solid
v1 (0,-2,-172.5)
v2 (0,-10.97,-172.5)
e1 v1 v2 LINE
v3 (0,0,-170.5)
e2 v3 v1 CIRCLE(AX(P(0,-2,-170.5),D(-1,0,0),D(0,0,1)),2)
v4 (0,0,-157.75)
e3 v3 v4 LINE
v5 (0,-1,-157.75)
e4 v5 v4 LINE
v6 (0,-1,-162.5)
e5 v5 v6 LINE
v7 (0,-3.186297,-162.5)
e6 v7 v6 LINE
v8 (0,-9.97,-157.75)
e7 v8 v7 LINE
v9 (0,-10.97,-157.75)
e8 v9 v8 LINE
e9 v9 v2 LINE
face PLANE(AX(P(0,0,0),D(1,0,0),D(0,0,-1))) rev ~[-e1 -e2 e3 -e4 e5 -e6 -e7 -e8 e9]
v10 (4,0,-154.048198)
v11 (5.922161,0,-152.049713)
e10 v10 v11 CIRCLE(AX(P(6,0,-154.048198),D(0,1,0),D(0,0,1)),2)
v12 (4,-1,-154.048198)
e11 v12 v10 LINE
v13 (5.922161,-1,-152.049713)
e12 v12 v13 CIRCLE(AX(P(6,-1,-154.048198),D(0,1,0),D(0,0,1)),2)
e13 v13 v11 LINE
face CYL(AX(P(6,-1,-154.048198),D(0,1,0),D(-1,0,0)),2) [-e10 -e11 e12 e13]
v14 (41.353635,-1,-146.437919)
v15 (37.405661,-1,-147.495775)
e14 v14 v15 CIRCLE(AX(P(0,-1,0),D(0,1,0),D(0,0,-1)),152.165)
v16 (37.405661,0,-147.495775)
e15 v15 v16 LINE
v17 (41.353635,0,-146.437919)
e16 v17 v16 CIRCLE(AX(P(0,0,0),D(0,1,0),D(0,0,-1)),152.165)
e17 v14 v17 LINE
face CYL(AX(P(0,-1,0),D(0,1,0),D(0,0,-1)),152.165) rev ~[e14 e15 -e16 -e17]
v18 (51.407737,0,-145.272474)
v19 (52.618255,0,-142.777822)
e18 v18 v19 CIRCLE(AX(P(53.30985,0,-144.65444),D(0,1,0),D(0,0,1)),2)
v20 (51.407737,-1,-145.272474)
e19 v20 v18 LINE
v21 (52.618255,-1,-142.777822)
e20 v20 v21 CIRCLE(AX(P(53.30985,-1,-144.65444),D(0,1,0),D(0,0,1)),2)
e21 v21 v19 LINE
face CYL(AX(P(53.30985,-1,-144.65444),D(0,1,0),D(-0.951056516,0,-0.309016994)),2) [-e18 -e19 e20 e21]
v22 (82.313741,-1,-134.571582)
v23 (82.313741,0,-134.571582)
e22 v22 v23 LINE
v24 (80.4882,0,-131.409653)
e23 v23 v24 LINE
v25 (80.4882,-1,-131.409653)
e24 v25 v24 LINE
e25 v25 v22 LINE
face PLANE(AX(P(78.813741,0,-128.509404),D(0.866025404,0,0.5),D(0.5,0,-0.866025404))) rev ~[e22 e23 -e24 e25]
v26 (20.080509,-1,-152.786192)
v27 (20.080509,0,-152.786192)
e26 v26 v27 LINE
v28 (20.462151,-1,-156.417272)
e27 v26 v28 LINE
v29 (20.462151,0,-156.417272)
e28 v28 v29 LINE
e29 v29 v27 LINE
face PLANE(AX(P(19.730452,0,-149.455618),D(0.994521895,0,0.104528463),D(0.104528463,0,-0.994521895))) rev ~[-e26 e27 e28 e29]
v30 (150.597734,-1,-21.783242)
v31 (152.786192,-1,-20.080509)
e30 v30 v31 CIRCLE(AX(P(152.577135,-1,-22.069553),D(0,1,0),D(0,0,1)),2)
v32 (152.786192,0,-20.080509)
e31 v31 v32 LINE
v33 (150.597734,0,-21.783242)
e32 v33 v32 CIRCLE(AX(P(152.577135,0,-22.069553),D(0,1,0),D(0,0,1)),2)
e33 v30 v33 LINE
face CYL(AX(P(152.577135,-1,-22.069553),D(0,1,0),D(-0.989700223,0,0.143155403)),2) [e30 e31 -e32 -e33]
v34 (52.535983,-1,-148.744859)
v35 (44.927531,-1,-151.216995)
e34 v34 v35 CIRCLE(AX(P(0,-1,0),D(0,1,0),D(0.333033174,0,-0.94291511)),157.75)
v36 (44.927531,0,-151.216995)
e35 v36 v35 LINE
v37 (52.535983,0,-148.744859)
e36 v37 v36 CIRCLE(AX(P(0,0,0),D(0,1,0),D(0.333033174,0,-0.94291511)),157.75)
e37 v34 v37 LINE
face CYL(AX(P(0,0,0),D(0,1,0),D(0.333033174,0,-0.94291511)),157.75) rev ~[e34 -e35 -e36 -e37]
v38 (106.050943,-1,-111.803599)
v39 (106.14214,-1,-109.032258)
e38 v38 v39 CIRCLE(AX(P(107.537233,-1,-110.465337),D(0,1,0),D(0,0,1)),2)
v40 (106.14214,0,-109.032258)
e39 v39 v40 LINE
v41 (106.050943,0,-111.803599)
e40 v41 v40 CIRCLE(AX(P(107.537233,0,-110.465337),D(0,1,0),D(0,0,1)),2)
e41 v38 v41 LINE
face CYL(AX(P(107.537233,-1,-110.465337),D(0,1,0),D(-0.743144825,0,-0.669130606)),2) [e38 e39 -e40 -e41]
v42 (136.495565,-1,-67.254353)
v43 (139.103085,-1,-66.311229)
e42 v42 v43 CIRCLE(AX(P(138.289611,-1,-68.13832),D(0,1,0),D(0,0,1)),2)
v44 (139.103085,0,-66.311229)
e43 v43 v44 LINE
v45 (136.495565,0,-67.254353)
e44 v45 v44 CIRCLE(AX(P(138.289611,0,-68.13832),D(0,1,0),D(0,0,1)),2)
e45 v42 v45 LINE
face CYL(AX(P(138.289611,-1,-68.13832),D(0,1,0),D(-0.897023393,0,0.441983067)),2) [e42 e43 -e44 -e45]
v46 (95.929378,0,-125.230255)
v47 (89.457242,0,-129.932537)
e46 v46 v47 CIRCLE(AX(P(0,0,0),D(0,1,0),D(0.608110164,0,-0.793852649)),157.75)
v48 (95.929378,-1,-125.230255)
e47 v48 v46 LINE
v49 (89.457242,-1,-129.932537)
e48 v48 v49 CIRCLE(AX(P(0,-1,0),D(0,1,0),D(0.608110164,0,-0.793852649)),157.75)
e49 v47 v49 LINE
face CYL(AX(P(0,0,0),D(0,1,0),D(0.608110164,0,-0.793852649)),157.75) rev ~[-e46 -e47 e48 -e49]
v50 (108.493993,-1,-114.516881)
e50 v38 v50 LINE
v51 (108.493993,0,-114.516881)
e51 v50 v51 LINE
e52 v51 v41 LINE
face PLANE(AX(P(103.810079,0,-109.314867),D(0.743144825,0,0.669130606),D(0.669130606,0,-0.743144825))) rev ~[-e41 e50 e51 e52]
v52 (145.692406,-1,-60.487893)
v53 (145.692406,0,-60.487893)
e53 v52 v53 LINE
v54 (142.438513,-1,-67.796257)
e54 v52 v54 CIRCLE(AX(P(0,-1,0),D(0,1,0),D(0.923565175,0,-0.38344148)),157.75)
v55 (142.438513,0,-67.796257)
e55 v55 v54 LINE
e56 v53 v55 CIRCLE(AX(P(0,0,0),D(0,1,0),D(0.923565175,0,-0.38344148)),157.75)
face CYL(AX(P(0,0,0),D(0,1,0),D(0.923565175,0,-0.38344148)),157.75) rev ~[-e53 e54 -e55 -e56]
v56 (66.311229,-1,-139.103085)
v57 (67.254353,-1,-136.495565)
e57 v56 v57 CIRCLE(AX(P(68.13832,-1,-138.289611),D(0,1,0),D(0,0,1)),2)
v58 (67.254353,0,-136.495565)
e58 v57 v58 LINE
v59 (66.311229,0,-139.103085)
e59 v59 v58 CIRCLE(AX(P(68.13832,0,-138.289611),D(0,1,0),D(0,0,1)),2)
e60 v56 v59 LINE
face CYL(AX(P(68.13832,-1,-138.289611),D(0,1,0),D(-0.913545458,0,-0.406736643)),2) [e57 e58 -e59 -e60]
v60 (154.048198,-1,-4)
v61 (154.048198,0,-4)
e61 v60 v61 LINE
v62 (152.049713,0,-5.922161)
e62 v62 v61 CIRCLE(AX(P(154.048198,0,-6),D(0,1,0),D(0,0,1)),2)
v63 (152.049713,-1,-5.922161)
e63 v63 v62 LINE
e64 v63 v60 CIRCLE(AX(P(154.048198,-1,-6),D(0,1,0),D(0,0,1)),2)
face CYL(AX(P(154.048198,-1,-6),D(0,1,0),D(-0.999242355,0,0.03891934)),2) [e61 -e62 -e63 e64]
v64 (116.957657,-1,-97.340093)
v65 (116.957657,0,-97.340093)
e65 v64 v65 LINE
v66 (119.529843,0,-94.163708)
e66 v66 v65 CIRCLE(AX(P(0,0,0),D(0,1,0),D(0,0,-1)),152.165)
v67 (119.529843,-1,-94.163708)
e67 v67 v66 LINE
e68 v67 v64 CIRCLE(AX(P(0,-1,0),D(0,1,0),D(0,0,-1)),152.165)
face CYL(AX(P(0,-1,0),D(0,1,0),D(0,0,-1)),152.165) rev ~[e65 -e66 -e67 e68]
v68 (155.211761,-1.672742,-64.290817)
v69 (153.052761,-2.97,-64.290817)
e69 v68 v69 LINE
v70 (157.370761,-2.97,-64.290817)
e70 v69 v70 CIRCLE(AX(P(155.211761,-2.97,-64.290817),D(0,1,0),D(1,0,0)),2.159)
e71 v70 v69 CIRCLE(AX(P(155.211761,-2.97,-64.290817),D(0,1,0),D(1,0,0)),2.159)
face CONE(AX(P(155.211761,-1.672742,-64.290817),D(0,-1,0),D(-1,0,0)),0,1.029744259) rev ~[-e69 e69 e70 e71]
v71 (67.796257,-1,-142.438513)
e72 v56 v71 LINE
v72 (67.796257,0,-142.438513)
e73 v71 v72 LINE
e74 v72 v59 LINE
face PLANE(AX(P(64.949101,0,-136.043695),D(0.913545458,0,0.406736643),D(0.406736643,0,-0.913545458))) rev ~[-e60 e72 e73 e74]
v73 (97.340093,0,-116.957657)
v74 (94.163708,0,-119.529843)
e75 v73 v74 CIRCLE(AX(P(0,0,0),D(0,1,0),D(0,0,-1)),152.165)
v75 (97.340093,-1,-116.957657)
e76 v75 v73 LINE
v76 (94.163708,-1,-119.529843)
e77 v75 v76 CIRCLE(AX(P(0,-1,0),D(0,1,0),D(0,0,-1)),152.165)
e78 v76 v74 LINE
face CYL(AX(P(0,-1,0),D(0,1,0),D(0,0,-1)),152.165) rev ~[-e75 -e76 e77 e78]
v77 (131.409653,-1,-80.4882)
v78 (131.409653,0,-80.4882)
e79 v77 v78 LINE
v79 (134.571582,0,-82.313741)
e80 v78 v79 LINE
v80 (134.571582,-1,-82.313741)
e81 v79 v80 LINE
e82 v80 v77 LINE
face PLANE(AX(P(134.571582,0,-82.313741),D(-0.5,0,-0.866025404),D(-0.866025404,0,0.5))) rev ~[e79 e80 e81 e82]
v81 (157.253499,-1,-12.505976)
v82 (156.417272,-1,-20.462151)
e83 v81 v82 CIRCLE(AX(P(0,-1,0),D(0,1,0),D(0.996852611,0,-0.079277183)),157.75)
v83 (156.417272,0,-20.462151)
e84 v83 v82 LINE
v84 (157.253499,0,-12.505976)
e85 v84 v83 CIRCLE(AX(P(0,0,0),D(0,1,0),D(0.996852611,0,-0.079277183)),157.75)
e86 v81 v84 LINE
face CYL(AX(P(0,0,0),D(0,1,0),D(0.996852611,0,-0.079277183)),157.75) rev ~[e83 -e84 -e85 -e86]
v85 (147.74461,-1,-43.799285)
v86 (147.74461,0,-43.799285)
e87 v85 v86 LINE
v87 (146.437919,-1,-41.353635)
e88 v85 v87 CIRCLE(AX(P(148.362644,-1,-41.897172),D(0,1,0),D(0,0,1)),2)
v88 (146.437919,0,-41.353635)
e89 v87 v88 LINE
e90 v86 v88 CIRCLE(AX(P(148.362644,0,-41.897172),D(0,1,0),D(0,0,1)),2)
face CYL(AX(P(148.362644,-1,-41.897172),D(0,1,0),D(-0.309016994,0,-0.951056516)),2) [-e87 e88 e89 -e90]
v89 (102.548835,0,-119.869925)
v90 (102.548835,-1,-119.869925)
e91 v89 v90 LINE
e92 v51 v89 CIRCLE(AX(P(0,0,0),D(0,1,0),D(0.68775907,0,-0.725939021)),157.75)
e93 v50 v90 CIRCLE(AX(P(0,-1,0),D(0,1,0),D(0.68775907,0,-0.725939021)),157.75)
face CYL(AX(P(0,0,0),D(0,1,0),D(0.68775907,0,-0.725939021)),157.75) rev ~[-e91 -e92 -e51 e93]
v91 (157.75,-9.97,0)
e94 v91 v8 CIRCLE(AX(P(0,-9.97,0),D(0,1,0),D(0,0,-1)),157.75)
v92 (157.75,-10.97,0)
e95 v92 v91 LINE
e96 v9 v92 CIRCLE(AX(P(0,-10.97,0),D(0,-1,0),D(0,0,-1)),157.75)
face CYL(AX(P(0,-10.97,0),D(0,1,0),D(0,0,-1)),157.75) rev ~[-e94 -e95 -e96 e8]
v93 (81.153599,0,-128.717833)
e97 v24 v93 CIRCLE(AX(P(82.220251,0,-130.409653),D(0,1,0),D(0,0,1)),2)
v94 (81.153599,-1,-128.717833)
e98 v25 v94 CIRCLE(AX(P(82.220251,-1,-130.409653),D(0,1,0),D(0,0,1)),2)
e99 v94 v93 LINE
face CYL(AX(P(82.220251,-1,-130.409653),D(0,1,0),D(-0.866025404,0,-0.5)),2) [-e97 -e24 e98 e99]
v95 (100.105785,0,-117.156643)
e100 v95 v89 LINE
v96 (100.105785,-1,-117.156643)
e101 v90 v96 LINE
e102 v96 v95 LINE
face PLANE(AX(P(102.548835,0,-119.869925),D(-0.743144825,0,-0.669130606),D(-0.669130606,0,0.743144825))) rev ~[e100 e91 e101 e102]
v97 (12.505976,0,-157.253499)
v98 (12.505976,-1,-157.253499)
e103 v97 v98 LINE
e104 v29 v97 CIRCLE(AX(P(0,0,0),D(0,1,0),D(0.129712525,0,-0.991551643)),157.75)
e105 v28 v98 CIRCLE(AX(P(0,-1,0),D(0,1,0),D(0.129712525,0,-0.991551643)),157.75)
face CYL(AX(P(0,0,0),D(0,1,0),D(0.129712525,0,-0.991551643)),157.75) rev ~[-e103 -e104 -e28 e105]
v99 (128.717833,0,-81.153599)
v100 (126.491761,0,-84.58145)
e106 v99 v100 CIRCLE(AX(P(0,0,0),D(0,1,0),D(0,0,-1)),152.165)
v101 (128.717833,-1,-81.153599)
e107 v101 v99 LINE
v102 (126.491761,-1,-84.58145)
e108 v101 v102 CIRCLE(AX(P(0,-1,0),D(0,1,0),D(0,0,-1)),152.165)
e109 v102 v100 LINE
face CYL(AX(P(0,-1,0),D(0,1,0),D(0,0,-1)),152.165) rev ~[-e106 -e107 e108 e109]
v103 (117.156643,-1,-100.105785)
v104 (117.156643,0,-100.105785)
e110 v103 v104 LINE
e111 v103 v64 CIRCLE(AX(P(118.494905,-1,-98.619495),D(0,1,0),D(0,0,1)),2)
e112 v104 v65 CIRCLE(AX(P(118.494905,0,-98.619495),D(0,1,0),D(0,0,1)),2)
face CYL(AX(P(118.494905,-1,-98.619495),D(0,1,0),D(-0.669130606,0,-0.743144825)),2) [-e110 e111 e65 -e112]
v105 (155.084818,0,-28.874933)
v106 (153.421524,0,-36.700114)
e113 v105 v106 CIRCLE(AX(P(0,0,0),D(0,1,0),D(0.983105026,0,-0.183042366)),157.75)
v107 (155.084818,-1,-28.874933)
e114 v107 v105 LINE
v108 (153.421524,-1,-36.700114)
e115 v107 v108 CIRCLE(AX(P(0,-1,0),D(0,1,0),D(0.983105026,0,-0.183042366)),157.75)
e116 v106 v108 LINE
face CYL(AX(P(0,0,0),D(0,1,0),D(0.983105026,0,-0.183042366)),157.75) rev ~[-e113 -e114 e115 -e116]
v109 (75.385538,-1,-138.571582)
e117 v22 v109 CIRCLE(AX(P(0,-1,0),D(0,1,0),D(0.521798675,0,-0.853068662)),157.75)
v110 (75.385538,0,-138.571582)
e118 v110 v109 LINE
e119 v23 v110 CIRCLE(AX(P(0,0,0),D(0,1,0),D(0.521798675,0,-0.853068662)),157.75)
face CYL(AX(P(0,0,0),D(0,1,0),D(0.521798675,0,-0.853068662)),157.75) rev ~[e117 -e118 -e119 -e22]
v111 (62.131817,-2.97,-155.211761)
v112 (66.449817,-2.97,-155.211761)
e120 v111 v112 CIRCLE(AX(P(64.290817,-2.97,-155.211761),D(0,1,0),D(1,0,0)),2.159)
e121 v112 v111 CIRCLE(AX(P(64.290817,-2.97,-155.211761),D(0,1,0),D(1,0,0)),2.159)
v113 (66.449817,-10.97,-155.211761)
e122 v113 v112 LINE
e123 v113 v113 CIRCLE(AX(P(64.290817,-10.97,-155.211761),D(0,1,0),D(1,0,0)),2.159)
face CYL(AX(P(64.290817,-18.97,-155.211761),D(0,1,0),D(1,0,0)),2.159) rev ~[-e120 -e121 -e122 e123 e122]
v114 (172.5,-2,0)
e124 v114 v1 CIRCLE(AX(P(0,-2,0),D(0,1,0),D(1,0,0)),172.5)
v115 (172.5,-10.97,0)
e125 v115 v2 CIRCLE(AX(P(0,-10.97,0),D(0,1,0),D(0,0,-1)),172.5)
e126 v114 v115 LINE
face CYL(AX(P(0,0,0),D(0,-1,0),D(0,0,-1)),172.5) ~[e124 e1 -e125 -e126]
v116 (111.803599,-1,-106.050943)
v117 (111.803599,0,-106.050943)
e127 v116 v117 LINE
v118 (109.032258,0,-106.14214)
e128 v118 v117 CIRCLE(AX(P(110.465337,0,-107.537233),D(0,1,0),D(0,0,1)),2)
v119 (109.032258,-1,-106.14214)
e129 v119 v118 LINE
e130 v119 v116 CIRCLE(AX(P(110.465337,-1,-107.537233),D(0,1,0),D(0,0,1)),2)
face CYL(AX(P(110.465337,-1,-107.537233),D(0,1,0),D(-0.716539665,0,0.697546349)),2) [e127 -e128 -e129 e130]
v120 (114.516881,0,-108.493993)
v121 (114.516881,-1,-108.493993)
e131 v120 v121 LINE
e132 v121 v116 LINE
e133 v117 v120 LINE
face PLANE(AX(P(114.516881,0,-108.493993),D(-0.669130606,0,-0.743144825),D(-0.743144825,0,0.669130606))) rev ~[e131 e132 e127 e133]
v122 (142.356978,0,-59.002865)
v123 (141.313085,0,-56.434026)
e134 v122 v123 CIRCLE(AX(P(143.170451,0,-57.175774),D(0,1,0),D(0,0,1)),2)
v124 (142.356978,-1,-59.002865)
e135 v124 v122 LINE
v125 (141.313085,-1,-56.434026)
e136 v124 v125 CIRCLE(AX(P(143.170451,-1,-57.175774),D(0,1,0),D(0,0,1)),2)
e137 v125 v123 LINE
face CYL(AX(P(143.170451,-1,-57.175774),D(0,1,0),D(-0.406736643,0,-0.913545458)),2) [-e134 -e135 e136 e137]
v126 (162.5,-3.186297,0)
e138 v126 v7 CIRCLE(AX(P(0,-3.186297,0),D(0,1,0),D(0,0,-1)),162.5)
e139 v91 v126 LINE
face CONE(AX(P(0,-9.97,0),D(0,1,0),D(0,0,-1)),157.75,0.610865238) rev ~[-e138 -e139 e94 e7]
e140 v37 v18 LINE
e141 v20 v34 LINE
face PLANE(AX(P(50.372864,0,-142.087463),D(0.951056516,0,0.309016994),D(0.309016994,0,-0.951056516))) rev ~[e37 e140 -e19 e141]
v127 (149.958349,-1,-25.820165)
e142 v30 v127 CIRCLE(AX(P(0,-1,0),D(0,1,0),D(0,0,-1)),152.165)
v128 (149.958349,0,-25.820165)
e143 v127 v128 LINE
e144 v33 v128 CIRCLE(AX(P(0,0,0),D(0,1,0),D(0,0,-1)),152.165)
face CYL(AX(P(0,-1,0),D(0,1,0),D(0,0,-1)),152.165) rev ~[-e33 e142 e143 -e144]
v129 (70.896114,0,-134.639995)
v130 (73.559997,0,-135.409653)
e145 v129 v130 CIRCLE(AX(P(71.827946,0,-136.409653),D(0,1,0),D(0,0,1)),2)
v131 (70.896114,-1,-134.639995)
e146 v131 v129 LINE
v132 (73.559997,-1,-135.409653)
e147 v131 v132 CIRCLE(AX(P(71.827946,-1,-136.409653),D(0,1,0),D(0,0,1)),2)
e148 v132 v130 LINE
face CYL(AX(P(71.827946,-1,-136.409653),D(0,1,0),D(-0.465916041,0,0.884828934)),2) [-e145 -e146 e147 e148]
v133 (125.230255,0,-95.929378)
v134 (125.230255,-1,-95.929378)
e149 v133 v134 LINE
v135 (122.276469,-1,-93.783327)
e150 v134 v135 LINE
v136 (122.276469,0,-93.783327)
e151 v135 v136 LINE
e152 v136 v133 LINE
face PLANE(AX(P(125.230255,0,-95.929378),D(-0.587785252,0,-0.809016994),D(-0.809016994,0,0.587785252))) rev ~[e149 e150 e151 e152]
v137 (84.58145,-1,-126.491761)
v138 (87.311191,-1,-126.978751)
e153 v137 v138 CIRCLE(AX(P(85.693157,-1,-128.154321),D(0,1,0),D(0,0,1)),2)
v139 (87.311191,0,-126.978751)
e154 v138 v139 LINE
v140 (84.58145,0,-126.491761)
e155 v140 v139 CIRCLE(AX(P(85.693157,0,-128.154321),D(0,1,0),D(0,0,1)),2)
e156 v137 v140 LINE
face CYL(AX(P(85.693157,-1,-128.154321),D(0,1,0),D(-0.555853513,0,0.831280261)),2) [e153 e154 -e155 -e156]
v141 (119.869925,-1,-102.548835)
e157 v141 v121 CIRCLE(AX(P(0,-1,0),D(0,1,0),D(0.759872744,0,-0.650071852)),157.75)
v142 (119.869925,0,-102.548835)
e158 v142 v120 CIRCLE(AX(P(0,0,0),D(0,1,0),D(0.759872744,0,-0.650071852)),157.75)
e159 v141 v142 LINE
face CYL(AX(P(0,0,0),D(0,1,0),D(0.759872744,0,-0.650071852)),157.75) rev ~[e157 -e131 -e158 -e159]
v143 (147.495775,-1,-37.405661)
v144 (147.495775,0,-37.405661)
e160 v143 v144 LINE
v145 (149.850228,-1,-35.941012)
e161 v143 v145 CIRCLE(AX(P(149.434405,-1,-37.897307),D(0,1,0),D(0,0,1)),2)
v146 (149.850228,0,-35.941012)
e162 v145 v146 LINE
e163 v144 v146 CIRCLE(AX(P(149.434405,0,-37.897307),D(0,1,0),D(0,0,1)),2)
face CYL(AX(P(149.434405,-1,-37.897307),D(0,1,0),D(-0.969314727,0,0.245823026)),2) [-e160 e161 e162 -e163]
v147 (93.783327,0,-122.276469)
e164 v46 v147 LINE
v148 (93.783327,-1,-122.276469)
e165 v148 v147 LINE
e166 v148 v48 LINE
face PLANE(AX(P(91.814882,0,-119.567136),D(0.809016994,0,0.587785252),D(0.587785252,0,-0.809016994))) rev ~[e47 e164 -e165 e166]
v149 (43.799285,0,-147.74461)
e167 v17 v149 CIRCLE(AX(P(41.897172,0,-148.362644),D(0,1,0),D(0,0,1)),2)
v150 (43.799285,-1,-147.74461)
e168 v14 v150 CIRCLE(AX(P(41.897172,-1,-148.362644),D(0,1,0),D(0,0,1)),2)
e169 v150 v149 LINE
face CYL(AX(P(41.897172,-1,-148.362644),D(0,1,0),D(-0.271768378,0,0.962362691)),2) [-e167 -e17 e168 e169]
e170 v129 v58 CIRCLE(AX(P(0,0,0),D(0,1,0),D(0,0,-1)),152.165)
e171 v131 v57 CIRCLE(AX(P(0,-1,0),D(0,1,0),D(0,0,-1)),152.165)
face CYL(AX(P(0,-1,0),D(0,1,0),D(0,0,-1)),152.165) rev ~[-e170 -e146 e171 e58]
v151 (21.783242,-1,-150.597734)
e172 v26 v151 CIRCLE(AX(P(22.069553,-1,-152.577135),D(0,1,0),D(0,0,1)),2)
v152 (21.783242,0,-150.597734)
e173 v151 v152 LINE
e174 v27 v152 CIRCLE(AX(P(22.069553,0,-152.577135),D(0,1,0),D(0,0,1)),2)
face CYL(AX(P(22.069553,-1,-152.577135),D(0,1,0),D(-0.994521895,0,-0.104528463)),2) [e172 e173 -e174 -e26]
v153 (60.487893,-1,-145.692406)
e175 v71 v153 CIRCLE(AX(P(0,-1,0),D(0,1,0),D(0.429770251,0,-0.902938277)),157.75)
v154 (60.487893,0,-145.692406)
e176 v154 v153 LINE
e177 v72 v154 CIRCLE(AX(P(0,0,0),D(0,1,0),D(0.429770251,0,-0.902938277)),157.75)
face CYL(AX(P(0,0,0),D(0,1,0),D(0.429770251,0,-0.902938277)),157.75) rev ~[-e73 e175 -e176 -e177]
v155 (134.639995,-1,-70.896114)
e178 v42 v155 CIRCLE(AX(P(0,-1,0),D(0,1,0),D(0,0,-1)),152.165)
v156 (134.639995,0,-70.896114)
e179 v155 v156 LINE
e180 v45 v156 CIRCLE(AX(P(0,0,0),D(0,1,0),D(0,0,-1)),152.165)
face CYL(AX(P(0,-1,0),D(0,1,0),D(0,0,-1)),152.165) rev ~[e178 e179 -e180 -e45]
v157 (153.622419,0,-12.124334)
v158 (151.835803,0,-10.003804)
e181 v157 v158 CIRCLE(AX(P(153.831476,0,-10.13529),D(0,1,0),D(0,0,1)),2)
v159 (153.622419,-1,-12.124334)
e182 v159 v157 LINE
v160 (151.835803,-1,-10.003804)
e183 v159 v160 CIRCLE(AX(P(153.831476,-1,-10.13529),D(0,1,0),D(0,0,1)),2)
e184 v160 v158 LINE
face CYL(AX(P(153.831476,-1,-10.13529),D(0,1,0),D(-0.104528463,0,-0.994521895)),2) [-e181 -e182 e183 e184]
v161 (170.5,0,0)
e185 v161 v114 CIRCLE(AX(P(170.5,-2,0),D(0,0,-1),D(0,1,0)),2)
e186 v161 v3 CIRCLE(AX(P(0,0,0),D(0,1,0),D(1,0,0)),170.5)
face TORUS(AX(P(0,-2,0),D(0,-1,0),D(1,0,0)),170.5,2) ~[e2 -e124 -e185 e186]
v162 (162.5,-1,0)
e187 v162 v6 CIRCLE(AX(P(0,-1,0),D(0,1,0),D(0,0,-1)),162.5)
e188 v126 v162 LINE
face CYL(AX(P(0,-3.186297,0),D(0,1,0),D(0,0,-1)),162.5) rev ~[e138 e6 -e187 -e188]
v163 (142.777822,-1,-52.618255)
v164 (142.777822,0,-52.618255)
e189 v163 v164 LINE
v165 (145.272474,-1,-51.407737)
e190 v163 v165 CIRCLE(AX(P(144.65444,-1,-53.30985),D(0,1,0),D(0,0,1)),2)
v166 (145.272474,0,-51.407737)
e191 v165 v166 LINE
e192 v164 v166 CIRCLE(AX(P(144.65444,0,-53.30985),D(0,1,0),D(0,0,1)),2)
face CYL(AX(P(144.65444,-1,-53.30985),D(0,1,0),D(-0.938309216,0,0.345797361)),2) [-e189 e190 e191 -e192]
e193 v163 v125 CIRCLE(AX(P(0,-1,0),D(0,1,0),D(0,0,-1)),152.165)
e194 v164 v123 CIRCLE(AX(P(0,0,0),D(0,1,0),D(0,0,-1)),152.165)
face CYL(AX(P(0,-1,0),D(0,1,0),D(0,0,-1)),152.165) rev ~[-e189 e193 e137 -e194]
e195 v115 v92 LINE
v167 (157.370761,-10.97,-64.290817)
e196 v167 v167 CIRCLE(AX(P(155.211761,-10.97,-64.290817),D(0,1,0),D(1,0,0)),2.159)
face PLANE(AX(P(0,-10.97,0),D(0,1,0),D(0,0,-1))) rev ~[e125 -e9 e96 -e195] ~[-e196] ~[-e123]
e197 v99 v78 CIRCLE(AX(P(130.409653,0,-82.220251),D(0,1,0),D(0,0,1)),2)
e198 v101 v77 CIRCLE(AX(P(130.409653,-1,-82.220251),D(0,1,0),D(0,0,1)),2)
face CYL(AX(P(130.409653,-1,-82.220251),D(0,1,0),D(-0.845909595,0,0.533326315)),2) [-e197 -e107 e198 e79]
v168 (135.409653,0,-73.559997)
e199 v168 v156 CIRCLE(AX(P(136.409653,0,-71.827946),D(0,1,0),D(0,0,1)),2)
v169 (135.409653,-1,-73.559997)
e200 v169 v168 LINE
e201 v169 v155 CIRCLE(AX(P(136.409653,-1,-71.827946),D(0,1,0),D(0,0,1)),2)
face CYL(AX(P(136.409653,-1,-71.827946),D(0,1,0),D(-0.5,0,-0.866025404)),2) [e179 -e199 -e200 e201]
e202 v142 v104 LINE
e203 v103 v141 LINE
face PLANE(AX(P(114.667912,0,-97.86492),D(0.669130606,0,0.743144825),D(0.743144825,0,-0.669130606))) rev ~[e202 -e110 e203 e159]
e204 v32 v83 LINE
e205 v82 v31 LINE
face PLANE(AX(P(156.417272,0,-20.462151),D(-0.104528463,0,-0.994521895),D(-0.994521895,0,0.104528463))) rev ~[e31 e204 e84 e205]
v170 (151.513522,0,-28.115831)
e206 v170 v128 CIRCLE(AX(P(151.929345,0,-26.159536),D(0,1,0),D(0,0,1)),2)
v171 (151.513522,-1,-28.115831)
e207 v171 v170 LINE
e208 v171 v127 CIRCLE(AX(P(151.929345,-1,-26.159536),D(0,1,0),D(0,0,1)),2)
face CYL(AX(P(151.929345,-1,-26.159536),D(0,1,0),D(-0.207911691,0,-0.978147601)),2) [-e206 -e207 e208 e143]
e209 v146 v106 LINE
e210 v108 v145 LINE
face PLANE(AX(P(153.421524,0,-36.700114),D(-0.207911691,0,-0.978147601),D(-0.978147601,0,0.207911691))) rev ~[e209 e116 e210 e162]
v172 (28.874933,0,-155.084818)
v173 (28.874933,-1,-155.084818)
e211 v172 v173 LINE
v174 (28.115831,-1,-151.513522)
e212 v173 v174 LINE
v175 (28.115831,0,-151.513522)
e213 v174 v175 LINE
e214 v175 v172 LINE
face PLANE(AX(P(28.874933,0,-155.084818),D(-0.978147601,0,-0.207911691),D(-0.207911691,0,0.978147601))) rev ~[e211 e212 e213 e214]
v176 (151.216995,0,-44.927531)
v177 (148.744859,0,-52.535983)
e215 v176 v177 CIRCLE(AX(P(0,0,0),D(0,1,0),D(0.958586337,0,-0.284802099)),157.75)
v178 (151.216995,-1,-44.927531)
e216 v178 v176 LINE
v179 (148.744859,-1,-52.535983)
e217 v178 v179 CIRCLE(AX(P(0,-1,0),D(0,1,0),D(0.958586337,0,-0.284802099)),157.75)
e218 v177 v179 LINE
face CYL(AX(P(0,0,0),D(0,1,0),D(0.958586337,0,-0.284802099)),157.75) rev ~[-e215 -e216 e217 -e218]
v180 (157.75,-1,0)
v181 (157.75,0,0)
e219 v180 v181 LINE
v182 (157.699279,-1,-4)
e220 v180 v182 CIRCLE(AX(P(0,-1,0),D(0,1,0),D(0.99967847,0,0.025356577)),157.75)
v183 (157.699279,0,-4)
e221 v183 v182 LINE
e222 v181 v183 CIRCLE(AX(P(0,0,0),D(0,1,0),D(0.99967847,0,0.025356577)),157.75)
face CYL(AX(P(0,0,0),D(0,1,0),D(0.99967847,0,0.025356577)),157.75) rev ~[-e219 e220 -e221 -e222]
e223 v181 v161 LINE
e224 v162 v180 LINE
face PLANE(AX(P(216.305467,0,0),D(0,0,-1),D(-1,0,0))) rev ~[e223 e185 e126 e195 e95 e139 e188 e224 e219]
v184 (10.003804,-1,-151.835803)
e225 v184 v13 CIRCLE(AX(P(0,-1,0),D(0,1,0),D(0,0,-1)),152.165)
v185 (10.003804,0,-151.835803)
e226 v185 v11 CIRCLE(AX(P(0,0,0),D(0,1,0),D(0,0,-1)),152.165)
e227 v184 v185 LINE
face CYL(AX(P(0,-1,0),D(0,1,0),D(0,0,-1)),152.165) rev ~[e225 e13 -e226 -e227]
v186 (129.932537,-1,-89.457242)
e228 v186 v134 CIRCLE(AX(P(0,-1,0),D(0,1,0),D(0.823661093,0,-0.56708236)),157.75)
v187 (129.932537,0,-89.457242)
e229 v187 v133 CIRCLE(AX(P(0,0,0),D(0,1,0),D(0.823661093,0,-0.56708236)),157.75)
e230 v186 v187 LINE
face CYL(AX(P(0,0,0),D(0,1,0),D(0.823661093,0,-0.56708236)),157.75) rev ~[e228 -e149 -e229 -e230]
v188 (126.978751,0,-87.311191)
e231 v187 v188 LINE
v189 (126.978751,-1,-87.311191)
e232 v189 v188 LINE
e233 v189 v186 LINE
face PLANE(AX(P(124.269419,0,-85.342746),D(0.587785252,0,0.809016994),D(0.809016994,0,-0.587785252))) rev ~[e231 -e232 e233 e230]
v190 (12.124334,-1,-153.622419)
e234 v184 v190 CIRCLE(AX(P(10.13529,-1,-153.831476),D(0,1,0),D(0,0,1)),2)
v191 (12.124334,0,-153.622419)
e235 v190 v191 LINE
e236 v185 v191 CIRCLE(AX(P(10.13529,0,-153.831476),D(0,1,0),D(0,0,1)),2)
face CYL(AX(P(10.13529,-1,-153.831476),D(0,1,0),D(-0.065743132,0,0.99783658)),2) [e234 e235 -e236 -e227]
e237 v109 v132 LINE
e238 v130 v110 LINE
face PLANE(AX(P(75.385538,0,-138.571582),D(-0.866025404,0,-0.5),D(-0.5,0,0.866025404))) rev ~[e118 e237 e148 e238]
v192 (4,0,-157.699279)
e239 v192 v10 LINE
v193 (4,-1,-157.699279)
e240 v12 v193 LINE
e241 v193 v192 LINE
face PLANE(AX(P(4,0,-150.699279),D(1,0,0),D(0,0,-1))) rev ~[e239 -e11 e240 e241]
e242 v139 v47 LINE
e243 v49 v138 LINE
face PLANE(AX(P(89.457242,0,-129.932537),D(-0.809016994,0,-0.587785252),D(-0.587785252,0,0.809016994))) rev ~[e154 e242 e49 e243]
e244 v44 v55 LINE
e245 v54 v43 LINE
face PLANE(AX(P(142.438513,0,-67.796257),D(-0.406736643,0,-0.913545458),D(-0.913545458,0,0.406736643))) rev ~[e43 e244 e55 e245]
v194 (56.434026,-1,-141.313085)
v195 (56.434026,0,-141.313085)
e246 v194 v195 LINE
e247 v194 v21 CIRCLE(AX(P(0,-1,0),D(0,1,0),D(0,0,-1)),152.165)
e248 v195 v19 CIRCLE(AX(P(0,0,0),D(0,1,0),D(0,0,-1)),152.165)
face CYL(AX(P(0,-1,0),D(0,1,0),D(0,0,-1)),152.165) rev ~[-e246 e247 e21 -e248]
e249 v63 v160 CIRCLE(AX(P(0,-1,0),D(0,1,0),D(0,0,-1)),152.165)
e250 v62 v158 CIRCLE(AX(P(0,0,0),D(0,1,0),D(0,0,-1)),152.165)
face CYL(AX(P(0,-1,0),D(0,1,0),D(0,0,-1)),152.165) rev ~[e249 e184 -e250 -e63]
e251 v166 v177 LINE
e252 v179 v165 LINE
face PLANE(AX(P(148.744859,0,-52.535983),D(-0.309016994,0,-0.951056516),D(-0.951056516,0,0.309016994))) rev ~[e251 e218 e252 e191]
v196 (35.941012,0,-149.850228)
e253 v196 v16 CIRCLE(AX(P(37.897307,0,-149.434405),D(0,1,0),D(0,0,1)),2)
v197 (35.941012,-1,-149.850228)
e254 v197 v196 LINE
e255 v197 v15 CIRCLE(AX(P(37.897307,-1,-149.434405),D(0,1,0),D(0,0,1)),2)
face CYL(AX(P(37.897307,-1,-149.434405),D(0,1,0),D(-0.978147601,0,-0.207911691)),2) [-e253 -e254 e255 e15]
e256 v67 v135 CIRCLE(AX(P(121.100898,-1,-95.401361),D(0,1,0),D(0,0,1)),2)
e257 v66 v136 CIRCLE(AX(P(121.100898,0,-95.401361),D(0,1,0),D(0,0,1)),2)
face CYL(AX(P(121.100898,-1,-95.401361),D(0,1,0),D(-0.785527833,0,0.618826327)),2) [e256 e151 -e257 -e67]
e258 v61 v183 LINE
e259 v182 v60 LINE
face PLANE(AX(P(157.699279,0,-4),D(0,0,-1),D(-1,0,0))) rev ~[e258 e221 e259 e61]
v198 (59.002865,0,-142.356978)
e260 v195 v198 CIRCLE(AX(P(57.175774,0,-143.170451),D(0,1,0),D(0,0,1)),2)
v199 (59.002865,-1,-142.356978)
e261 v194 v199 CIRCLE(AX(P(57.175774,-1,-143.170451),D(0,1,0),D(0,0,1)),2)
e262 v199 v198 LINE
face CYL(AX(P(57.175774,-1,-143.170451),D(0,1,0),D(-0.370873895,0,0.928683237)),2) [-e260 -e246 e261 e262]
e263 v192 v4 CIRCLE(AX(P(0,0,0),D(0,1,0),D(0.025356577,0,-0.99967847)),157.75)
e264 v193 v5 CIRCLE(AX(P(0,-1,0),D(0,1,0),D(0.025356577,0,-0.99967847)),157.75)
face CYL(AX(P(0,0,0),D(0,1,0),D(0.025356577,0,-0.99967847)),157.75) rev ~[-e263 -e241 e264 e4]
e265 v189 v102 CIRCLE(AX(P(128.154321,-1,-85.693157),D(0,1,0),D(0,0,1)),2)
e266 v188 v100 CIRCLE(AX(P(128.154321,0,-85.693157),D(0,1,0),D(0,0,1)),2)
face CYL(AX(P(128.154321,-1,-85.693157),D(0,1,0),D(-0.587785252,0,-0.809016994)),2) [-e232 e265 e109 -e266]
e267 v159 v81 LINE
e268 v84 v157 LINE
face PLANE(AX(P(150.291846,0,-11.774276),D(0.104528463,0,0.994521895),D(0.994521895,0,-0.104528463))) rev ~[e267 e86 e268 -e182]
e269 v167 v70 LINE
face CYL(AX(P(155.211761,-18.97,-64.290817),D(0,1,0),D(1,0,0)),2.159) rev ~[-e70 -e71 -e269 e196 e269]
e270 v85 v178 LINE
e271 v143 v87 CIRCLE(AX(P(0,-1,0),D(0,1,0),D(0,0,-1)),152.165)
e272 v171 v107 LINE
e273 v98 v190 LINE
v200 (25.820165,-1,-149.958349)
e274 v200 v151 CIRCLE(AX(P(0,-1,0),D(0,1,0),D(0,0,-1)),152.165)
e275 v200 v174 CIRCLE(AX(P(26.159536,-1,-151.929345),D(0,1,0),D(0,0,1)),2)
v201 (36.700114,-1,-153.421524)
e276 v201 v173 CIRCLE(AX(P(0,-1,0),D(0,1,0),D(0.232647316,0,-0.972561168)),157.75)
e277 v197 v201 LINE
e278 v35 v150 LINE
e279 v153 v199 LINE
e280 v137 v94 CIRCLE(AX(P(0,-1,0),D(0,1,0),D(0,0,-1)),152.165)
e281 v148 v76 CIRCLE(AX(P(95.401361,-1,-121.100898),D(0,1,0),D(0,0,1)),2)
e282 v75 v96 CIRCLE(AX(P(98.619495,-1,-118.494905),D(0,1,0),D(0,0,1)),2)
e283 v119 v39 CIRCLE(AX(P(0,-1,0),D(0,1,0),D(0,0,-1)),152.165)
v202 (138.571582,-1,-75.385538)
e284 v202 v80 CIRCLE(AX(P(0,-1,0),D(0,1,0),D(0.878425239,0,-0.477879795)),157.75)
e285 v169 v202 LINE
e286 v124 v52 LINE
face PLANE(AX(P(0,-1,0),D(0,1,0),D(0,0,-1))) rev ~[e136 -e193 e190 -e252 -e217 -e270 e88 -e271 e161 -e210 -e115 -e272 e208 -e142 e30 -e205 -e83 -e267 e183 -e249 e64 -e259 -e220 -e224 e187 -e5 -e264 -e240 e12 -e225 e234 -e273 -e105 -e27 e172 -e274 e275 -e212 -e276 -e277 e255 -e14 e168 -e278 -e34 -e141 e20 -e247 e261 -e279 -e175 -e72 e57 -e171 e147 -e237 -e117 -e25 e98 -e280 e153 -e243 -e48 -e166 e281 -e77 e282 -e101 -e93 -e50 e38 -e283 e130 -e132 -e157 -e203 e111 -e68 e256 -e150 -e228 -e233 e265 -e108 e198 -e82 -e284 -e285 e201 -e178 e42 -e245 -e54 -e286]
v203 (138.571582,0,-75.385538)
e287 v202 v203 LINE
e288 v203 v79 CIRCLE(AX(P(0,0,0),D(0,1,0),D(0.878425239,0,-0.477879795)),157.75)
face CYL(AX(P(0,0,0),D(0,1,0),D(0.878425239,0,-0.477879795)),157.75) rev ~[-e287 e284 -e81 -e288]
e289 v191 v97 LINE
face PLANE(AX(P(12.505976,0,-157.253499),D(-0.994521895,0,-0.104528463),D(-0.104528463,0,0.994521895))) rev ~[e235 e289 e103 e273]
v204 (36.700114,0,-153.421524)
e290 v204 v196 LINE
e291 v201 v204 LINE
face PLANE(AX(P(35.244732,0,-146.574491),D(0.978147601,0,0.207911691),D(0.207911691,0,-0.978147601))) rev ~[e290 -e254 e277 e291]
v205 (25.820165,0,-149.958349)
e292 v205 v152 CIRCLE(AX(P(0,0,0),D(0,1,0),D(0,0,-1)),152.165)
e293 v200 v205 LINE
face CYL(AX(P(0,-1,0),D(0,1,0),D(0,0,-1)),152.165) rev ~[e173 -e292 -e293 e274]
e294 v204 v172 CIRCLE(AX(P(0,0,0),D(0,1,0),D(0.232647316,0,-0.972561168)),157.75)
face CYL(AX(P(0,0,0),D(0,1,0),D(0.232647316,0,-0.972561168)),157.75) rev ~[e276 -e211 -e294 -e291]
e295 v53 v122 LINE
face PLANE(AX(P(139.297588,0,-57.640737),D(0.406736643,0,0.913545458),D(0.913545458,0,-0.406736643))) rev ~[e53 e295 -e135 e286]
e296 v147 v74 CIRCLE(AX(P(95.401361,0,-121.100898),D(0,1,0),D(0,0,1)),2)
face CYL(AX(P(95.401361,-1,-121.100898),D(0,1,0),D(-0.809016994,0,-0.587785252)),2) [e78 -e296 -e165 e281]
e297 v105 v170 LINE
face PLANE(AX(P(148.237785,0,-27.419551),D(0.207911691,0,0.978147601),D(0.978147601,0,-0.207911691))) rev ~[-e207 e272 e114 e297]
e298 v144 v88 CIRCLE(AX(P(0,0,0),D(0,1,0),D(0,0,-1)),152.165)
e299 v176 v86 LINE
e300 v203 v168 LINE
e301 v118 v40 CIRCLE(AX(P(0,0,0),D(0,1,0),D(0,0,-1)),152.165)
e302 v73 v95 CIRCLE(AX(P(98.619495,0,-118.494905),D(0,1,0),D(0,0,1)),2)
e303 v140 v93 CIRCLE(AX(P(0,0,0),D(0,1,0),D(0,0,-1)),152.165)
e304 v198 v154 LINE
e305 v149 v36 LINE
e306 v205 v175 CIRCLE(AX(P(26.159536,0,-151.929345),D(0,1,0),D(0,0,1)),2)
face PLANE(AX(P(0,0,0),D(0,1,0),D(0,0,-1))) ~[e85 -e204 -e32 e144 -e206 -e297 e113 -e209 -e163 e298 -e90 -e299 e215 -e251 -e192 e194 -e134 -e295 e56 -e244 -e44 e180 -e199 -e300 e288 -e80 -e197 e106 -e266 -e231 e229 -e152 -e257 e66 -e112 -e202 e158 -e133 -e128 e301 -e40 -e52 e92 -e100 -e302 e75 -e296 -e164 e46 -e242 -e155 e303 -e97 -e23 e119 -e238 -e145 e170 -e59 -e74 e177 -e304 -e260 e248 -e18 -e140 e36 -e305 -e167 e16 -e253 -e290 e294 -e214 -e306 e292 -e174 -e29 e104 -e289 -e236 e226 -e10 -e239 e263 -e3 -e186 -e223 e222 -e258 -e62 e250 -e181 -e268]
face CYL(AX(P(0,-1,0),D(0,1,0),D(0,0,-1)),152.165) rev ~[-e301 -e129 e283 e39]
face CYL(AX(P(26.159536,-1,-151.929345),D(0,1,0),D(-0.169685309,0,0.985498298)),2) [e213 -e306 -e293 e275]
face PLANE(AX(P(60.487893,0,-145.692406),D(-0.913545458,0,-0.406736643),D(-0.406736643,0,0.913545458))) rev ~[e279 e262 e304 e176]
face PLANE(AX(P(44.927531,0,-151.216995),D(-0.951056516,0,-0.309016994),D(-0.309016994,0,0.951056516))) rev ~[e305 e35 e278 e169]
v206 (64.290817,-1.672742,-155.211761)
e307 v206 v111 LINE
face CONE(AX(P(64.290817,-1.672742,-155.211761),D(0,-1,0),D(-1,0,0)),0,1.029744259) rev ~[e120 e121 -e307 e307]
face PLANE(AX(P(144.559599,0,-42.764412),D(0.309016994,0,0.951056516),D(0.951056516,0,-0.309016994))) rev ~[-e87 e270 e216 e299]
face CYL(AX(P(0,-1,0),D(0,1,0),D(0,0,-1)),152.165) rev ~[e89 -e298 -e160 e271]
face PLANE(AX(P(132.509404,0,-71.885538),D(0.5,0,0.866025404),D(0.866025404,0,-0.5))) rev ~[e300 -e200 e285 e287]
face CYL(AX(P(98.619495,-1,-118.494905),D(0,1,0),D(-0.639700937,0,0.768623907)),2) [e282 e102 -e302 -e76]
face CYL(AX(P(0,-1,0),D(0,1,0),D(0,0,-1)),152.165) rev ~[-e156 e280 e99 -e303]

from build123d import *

# Parameters (mm, degrees)
CUT_EXTRUDE1_DEPTH             = 245.198363836
CIRPATTERN1_COUNT              = 60
CUT_EXTRUDE2_DEPTH             = 25.4
FILLET1_R                      = 2
F_6_0_204_DIAMETER_HOLE1_D     = 4.318
F_6_0_204_DIAMETER_HOLE1_DEPTH = 8
F_6_0_204_DIAMETER_HOLE1_TIP   = 1.297258076
FILLET2_R                      = 2


with BuildPart() as part:
    # Sketch1 → Revolve1 (revolve)
    with BuildSketch(Plane.XY, mode=Mode.PRIVATE) as revolve1_sk:
        Polygon((-157.75, -10.97), (-157.75, -9.97), (-162.5, -3.186296968), (-162.5, -1), (-152.165, -1), (-152.165, 0), (-172.5, 0), (-172.5, -10.97), align=None)
    revolve(revolve1_sk.sketch.rotate(Axis((0, 0, 0), (0, 1, 0)), 270), axis=Axis((0, 0, 0), (0, 1, 0)))

    # Sketch2 → Cut-Extrude1 (cut, symmetric)
    with BuildSketch(Plane(origin=(0, 0, 0), x_dir=(1, 0, 0), z_dir=(0, 1, 0))):
        with BuildLine():
            Line((-4, 150.699278692), (4, 150.699278692))
            Line((4, 150.699278692), (4, 157.699278692))
            ThreePointArc((4, 157.699278692), (0, 157.75), (-4, 157.699278692))
            Line((-4, 157.699278692), (-4, 150.699278692))
        make_face()
    cut_extrude1 = extrude(amount=CUT_EXTRUDE1_DEPTH, both=True, mode=Mode.SUBTRACT)

    # CirPattern1: Cut-Extrude1 ×60 about axis
    cirpattern1_axis = Axis((0, 0, 0), (0, 1, 0))
    for i in range(1, CIRPATTERN1_COUNT):
        add(cut_extrude1.rotate(cirpattern1_axis, i * 360 / CIRPATTERN1_COUNT), mode=Mode.SUBTRACT)

    # Sketch6 → Cut-Extrude2 (cut, symmetric)
    with BuildSketch(Plane(origin=(0, 0, 0), x_dir=(1, 0, 0), z_dir=(0, 1, 0))):
        with BuildLine():
            Line((0, 0), (0, 216.30546713))
            ThreePointArc((0, 216.30546713), (-152.951062615, -152.951062615), (216.30546713, 0))
            Line((216.30546713, 0), (0, 0))
        make_face()
    extrude(amount=CUT_EXTRUDE2_DEPTH, both=True, mode=Mode.SUBTRACT)

    # Fillet1
    fillet1_edges = [part.edges().sort_by_distance(p)[0] for p in [
        (4, -0.5, -152.112416406),
        (11.921989549, -0.5, -151.697242527),
        (27.713359286, -0.5, -149.620041913),
        (35.538540092, -0.5, -147.956748386),
        (43.20109566, -0.5, -145.90357281),
        (19.878164712, -0.5, -150.86101482),
        (50.80954779, -0.5, -143.431436855),
        (58.215511789, -0.5, -140.588553631),
        (65.52387545, -0.5, -137.334660487),
        (72.592106588, -0.5, -133.733216839),
        (79.520309818, -0.5, -129.733216839),
        (86.173367077, -0.5, -125.412670937),
        (92.645503032, -0.5, -120.710388919),
        (98.810494123, -0.5, -115.718077569),
        (104.755652727, -0.5, -110.365032718),
        (110.365032718, -0.5, -104.755652727),
        (115.718077569, -0.5, -98.810494123),
        (120.710388919, -0.5, -92.645503032),
        (125.412670937, -0.5, -86.173367077),
        (129.733216839, -0.5, -79.520309818),
        (133.733216839, -0.5, -72.592106588),
        (137.334660487, -0.5, -65.52387545),
        (140.588553631, -0.5, -58.215511789),
        (143.431436855, -0.5, -50.80954779),
        (145.90357281, -0.5, -43.20109566),
        (147.956748386, -0.5, -35.538540092),
        (149.620041913, -0.5, -27.713359286),
        (150.86101482, -0.5, -19.878164712),
        (151.697242527, -0.5, -11.921989549),
        (152.112416406, -0.5, -4),
    ]]
    fillet(fillet1_edges, radius=FILLET1_R)

    # #6 (0.204) Diameter Hole1
    with Locations(Plane(origin=(0, -10.97, 0), x_dir=(-1, 0, 0), z_dir=(0, -1, 0))):
        with Locations((-64.290816637, 155.211761462), (-155.211761462, 64.290816637)):
            Hole(F_6_0_204_DIAMETER_HOLE1_D / 2, depth=F_6_0_204_DIAMETER_HOLE1_DEPTH)
            with Locations((0, 0, -(F_6_0_204_DIAMETER_HOLE1_DEPTH + F_6_0_204_DIAMETER_HOLE1_TIP / 2))):  # 118° drill point
                Cone(0, F_6_0_204_DIAMETER_HOLE1_D / 2, F_6_0_204_DIAMETER_HOLE1_TIP, mode=Mode.SUBTRACT)

    # Fillet2
    fillet2_edges = [part.edges().sort_by_distance(p)[0] for p in [
        (121.975919755, 0, -121.975919755),
    ]]
    fillet(fillet2_edges, radius=FILLET2_R)


solid = part.part
